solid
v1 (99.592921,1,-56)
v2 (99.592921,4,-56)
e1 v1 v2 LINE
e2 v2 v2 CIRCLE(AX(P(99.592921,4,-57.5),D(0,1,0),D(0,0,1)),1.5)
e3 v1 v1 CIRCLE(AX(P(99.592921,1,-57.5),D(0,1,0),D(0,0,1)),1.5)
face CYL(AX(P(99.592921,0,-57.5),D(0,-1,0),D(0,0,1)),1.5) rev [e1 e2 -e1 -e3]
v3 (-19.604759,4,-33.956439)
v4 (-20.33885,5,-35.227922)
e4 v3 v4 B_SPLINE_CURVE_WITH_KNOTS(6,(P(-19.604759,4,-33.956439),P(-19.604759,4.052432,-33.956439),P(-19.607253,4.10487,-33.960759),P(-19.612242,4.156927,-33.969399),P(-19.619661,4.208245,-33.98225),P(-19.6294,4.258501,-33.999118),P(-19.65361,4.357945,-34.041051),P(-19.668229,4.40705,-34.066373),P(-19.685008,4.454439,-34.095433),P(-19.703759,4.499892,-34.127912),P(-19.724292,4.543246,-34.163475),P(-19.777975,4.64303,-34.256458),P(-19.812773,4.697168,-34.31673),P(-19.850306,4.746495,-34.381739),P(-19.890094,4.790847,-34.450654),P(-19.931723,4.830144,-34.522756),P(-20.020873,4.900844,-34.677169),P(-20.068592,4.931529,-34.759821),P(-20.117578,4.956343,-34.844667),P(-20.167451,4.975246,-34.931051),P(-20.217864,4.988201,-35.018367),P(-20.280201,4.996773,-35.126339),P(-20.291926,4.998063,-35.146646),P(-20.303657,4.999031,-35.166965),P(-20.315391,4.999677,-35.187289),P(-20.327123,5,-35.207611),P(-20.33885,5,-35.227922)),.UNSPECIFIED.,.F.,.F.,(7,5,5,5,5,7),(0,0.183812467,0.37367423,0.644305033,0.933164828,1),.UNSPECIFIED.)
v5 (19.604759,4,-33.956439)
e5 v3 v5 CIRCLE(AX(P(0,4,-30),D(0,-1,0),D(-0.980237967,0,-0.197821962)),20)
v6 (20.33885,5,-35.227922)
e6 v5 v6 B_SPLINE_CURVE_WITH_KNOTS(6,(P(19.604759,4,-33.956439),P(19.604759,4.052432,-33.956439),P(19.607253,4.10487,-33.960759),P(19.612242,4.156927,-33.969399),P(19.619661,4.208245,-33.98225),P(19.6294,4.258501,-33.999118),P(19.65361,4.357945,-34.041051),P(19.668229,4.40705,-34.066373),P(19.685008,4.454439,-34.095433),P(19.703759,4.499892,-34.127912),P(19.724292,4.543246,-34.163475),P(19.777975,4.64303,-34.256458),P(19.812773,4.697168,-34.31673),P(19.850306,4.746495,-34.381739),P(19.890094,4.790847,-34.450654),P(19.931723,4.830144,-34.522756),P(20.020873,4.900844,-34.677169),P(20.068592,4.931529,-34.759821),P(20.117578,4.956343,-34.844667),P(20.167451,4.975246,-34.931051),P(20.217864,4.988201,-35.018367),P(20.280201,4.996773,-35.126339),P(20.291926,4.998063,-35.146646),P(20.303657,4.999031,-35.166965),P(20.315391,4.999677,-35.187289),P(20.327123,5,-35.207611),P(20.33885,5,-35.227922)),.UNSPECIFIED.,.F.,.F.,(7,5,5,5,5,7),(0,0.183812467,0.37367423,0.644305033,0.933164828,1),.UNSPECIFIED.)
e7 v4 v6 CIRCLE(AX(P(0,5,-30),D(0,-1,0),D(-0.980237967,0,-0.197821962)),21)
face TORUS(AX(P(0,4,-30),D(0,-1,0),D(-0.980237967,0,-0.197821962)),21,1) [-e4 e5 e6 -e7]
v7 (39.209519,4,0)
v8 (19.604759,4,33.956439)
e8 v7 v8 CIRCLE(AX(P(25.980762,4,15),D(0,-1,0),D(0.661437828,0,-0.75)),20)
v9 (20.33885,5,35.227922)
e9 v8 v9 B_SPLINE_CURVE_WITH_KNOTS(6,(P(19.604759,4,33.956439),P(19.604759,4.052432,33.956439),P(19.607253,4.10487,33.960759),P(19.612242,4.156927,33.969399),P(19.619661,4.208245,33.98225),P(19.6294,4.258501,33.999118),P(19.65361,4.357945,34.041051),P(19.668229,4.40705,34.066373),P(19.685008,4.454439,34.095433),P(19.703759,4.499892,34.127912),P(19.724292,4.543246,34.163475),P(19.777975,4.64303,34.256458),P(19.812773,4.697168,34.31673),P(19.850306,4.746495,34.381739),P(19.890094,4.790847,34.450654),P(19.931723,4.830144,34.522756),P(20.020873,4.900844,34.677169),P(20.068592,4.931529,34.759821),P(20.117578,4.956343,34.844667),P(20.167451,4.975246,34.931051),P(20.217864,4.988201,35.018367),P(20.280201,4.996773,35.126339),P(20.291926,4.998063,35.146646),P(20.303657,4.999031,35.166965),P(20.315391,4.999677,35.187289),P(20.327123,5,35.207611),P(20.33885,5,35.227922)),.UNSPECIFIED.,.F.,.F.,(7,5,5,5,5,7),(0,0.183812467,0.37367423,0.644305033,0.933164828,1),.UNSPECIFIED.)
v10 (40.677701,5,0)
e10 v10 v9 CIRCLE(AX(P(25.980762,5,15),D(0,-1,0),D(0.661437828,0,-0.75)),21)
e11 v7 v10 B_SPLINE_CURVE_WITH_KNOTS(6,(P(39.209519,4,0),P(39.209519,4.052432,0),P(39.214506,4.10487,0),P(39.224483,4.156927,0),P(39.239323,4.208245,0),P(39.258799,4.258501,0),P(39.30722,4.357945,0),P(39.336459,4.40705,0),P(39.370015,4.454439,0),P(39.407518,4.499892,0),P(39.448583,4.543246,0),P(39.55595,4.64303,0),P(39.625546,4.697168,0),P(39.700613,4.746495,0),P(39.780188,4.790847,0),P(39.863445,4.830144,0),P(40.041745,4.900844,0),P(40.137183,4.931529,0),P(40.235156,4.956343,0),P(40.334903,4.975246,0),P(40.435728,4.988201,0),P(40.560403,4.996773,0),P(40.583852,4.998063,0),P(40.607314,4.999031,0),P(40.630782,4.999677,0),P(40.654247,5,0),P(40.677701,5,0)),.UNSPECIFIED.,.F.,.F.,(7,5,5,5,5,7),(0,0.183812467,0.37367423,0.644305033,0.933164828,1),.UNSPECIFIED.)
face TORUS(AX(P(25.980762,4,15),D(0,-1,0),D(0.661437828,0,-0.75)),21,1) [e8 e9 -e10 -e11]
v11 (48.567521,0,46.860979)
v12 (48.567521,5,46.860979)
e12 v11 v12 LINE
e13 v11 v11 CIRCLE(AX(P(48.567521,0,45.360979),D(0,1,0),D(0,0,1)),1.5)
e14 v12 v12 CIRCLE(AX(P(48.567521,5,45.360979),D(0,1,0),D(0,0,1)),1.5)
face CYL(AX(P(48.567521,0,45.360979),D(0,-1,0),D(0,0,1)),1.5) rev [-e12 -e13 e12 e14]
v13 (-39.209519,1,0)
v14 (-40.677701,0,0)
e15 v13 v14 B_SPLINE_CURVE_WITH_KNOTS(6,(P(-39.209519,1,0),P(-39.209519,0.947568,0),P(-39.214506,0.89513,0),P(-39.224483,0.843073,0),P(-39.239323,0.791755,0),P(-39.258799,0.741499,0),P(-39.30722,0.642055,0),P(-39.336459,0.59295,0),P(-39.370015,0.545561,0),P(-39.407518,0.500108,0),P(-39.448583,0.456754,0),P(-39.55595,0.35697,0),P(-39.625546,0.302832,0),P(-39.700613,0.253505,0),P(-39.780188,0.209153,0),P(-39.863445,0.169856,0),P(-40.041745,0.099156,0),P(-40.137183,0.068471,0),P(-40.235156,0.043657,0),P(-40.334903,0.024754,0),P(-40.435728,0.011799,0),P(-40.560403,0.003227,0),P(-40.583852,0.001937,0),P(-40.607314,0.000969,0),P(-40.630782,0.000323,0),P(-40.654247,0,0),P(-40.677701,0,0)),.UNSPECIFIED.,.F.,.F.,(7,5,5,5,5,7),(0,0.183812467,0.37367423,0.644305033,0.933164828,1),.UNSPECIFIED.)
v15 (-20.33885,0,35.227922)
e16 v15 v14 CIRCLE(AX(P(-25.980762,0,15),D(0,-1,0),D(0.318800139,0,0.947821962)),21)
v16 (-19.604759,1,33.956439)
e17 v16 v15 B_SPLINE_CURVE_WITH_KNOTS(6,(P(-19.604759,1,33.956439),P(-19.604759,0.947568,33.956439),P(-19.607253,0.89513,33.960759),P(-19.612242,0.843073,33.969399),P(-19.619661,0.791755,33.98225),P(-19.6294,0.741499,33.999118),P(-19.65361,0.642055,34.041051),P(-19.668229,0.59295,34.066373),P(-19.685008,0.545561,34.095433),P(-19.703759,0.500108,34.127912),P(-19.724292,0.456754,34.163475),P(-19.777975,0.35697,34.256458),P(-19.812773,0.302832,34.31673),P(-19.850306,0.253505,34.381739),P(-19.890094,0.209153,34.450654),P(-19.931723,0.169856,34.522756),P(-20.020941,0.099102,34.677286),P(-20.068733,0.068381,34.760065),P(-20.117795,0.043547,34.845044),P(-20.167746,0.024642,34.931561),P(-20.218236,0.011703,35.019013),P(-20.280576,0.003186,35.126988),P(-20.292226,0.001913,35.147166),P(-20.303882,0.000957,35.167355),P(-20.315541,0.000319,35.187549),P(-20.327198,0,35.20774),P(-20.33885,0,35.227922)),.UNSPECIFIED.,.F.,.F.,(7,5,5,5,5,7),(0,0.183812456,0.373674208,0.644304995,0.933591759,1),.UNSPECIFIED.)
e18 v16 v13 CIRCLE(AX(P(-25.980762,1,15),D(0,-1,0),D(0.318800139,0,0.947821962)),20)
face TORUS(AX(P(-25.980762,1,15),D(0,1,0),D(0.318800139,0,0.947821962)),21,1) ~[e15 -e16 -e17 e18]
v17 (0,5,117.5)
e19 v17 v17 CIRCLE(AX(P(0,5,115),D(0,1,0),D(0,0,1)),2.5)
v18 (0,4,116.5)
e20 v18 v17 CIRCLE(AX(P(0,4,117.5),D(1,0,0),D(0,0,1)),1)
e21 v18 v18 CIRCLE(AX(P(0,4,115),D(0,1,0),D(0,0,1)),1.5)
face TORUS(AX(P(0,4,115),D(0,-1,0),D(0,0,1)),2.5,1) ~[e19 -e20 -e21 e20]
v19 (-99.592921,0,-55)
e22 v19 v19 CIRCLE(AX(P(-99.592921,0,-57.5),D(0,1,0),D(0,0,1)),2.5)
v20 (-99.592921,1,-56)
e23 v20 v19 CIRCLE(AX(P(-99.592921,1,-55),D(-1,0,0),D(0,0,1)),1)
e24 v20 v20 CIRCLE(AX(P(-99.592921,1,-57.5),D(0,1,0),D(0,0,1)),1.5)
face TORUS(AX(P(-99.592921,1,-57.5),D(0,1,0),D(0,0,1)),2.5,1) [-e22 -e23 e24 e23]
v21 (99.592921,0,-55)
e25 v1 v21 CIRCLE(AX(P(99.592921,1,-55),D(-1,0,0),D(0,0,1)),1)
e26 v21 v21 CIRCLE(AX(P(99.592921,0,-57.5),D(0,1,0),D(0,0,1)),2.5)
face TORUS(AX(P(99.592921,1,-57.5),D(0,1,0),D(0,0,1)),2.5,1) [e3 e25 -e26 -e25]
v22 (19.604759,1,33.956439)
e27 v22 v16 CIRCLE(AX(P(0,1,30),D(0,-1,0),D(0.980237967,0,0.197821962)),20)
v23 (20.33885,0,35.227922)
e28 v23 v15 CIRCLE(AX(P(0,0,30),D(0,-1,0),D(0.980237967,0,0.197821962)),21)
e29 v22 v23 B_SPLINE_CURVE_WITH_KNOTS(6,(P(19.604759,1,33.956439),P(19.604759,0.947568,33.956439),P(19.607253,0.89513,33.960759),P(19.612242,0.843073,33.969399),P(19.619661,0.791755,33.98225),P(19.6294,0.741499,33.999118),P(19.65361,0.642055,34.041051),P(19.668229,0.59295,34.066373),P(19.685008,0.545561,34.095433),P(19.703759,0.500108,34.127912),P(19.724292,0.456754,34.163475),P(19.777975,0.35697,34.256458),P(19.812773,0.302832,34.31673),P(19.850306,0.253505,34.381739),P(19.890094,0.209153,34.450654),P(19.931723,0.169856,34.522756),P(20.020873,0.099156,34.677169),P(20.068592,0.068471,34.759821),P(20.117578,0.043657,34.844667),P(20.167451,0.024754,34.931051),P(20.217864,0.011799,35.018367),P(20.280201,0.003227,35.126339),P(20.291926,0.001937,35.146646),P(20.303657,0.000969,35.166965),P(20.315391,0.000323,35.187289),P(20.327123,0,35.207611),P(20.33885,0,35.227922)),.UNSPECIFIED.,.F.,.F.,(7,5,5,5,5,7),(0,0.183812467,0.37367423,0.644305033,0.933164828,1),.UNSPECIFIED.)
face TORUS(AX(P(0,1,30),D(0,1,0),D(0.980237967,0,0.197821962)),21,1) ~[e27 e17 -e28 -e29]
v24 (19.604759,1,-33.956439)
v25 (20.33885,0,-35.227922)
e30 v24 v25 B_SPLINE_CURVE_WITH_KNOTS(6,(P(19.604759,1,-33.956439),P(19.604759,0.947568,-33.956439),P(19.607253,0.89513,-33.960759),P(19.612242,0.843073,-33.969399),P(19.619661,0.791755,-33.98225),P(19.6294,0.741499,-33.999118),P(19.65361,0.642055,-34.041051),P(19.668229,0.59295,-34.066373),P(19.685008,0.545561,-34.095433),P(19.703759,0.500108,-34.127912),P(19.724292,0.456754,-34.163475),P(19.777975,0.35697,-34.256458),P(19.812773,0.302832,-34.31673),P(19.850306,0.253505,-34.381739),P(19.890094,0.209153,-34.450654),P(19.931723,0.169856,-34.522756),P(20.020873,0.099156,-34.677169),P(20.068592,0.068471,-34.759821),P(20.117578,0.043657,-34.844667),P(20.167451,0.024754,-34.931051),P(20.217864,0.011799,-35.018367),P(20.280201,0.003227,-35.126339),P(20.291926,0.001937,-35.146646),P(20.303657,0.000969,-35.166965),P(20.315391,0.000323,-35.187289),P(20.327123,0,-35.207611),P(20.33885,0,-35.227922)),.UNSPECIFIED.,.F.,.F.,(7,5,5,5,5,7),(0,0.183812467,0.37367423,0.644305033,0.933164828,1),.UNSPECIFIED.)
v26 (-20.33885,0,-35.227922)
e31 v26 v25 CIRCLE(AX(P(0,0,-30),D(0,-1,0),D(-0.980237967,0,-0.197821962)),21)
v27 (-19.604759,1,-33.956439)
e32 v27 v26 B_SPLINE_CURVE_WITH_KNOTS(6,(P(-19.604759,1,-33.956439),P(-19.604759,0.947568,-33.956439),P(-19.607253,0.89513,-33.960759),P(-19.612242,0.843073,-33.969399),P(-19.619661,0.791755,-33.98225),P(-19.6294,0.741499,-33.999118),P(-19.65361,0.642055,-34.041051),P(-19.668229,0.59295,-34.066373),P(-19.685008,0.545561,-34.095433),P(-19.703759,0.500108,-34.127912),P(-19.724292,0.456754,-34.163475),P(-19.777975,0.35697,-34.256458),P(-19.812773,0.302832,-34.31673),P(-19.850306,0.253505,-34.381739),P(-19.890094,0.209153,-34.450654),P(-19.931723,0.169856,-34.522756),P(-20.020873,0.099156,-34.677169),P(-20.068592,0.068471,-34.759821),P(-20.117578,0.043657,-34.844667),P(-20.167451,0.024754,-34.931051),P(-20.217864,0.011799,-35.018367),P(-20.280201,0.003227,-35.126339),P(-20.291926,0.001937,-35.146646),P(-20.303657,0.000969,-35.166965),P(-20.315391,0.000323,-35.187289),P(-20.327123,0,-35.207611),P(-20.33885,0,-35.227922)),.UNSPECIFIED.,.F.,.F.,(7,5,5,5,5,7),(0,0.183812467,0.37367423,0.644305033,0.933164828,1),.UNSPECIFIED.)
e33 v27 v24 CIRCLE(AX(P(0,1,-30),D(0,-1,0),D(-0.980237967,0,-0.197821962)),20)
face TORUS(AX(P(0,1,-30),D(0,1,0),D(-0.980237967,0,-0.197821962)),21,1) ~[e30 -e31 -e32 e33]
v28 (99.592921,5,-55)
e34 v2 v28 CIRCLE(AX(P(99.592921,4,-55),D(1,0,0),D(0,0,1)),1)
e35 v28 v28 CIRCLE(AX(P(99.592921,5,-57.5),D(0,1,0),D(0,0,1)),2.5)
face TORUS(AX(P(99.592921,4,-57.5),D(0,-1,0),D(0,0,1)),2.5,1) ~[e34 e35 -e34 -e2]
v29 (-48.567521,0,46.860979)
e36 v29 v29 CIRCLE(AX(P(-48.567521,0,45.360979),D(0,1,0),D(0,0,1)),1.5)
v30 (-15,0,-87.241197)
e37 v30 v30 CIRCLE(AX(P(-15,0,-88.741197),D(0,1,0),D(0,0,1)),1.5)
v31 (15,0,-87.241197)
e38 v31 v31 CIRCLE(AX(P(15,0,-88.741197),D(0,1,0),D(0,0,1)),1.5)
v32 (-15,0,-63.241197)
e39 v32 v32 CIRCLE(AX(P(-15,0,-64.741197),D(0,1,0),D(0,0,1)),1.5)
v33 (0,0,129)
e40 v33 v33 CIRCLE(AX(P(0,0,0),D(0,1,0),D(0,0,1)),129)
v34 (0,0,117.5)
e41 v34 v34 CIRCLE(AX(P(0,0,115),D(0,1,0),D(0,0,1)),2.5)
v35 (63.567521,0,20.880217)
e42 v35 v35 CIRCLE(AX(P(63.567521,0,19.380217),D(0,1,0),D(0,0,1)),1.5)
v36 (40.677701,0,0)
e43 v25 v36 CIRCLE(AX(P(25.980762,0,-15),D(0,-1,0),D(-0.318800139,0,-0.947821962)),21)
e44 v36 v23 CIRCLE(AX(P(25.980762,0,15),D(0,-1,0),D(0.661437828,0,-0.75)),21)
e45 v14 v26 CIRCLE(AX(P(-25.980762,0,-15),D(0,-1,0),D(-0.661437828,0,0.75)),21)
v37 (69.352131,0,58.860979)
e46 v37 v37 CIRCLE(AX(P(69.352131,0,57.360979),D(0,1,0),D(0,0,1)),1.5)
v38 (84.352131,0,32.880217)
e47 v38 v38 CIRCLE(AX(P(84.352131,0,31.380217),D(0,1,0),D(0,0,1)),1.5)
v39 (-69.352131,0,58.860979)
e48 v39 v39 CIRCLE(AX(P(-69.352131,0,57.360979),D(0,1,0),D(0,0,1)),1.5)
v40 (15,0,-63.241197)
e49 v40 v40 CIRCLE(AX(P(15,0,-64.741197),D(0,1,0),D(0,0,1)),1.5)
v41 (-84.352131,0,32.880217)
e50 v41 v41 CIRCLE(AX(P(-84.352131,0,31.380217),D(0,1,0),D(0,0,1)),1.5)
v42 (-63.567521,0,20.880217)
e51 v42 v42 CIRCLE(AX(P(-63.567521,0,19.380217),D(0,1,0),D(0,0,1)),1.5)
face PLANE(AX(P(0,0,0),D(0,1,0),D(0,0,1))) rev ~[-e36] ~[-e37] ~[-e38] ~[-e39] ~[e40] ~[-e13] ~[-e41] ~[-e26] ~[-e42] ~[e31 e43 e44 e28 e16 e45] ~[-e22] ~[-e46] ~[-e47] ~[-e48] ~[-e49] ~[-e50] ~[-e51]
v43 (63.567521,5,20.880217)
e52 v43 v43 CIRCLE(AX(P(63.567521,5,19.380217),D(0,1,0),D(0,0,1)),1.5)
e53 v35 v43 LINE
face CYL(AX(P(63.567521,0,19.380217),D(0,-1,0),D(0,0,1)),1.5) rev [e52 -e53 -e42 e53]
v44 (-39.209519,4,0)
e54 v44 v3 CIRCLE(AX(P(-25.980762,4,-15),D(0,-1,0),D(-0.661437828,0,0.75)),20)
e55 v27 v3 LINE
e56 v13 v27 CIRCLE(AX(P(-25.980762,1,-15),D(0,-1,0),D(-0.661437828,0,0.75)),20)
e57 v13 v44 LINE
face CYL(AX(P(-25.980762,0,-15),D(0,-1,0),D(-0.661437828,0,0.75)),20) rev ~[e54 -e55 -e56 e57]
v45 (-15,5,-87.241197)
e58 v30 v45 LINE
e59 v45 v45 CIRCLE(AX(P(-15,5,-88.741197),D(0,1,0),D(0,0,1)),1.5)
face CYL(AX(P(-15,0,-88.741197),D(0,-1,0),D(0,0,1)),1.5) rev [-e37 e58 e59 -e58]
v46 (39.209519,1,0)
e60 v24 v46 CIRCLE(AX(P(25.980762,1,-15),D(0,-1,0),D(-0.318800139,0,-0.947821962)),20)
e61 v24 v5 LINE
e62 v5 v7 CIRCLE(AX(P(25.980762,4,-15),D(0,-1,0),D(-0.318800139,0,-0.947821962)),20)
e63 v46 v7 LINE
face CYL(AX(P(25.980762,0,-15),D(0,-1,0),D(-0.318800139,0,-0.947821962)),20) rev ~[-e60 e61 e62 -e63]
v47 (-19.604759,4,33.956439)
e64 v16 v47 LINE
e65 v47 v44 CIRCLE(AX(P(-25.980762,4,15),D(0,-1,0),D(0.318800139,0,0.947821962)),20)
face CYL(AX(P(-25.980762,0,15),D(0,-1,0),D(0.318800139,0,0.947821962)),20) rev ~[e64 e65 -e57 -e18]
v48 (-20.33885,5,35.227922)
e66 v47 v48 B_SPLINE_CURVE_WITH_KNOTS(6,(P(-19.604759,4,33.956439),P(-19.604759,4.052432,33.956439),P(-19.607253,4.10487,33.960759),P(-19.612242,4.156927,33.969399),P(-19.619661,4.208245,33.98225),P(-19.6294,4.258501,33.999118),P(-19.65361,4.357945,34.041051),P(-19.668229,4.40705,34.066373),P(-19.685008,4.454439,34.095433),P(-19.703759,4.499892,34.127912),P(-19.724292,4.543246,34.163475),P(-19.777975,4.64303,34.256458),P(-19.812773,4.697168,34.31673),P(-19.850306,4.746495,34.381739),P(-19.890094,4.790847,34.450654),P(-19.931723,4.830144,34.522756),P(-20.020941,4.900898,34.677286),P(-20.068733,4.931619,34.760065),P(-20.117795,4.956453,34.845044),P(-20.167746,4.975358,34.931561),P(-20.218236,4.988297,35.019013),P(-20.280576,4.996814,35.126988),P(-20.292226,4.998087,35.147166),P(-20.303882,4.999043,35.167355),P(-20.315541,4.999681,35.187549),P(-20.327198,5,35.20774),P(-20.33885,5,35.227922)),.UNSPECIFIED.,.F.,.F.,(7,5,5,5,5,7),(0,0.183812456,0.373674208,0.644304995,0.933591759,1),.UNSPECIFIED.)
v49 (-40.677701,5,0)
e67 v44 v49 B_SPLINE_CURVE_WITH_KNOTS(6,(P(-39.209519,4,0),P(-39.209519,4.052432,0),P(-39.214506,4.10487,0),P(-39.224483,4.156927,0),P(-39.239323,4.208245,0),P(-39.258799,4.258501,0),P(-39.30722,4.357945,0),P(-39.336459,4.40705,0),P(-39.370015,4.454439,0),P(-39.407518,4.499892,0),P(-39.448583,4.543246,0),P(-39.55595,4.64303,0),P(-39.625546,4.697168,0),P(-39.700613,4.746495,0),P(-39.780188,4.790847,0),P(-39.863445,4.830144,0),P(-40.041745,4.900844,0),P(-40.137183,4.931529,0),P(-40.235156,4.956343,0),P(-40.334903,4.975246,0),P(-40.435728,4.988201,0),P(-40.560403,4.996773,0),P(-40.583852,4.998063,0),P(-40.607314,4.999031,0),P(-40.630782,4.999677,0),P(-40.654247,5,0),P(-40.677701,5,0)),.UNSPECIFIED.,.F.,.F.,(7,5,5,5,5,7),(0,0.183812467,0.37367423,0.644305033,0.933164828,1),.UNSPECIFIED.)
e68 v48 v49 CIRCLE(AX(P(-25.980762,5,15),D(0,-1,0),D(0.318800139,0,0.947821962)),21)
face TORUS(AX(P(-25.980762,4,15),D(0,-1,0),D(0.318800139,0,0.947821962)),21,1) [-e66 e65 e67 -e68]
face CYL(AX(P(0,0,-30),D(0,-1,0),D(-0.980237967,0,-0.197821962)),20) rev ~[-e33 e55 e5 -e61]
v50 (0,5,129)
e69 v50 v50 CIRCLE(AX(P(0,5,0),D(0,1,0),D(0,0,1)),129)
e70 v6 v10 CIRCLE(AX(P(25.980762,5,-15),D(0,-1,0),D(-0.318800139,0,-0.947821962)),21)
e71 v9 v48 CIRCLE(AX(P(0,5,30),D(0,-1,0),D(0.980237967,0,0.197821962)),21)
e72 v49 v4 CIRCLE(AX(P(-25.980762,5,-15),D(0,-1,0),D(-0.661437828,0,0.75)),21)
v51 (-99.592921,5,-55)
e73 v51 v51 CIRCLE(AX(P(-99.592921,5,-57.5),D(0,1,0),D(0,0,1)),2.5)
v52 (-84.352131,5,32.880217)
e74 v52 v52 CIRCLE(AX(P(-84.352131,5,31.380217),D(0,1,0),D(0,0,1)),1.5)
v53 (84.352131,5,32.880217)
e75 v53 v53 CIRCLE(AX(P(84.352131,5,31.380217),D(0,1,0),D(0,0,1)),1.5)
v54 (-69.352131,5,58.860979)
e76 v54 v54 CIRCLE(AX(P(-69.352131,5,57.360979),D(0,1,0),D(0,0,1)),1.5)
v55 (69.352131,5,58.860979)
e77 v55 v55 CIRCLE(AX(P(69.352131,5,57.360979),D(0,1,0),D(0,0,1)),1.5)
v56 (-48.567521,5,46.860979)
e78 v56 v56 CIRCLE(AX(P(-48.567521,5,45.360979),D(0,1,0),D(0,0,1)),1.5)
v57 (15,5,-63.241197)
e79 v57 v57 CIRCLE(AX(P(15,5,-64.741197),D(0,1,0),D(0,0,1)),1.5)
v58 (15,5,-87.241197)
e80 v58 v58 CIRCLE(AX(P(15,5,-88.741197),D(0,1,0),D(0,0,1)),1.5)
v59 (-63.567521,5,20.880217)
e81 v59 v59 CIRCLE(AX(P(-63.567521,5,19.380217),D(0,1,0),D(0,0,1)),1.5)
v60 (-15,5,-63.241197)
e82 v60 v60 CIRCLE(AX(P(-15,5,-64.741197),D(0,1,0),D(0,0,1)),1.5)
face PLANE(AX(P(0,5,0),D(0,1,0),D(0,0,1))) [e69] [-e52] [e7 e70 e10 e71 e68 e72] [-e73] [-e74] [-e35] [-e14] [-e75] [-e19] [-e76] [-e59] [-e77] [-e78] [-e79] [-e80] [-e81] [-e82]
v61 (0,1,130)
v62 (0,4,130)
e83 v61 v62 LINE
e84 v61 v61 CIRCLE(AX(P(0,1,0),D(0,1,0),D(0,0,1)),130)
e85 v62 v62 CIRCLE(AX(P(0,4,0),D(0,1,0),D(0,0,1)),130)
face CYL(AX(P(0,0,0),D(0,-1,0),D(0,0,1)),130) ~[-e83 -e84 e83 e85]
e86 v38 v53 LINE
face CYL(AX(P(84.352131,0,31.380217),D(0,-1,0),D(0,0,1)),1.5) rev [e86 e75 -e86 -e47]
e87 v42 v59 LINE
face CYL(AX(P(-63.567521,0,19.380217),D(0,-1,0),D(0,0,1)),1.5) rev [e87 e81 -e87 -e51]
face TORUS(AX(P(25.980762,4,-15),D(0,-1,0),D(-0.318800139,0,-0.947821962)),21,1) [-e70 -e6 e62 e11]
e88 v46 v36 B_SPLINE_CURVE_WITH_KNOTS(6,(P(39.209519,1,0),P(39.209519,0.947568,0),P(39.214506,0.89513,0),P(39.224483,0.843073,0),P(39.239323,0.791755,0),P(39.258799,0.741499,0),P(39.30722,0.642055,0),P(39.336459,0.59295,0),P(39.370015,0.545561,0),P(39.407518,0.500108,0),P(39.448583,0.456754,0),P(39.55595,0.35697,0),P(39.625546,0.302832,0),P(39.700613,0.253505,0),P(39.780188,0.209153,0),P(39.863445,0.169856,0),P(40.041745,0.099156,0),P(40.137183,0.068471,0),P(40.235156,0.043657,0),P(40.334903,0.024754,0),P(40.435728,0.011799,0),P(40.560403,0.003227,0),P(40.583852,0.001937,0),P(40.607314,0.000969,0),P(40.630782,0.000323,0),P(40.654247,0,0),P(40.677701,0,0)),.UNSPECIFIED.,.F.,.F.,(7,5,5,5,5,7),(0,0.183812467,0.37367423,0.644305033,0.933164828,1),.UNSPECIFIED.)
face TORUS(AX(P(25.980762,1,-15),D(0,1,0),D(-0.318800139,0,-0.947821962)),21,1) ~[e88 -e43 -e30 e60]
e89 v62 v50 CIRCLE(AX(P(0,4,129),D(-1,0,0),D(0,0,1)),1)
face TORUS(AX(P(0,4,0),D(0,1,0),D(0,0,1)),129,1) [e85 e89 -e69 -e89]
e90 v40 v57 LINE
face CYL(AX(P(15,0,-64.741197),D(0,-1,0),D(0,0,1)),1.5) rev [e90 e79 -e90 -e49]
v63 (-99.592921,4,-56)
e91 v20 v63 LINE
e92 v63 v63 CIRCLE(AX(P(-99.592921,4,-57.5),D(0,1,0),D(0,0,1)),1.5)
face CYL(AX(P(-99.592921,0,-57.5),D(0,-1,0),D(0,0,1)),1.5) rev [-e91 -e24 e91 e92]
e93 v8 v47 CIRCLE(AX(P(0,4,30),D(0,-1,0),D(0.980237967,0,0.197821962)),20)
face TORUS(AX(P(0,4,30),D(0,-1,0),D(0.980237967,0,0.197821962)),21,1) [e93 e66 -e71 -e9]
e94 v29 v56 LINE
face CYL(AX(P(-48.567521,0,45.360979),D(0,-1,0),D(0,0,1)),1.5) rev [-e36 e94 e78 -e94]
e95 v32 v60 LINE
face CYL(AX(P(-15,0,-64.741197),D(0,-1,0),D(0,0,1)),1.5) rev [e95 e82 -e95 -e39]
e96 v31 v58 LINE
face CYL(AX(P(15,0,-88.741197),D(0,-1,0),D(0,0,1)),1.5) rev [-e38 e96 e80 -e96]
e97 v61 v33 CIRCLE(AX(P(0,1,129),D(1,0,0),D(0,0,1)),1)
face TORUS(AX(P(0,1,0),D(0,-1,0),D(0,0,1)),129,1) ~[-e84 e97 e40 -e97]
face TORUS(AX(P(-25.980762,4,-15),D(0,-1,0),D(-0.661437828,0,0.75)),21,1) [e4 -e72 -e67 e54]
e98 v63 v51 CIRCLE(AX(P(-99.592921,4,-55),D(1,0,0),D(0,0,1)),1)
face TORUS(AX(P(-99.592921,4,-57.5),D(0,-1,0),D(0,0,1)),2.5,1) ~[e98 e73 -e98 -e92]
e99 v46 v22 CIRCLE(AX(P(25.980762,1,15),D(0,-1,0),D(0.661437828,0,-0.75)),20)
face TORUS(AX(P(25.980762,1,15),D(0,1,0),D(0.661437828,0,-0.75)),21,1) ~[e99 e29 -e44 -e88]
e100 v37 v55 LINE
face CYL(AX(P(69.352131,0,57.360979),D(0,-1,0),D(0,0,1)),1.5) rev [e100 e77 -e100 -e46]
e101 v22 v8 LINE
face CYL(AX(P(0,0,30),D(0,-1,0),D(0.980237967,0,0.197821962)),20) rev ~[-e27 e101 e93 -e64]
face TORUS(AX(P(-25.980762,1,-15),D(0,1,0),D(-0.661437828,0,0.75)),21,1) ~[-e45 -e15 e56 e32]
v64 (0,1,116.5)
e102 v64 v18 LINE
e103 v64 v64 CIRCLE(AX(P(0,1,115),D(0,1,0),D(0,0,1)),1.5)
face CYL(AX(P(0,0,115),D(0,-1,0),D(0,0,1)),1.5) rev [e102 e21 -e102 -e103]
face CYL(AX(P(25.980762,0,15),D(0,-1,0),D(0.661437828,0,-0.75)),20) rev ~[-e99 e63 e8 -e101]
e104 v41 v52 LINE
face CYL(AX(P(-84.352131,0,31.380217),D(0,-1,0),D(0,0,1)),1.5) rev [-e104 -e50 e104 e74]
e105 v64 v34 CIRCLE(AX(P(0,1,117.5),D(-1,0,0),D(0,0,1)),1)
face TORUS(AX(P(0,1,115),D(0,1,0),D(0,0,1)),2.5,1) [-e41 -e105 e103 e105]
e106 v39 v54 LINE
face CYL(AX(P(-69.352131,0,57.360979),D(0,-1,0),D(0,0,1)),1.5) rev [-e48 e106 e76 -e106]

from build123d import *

# Parameters (mm, degrees)
SKETCH1_R           = 130
SKETCH1_R_2         = 1.5
BOSS_EXTRUDE1_DEPTH = 5
FILLET1_R           = 1


with BuildPart() as part:
    # Sketch1 → Boss-Extrude1 (new body)
    with BuildSketch(Plane(origin=(0, 0, 0), x_dir=(1, 0, 0), z_dir=(0, 1, 0))):
        with Locations(Location((0, 0, 0), (0, 0, 270))):
            Circle(SKETCH1_R)
        with Locations(Location((-69.352130745, -57.36097943, 0), (0, 0, 270))):
            Circle(SKETCH1_R_2, mode=Mode.SUBTRACT)
        with Locations(Location((-84.352130745, -31.380217316, 0), (0, 0, 270))):
            Circle(SKETCH1_R_2, mode=Mode.SUBTRACT)
        with Locations(Location((-48.567521054, -45.36097943, 0), (0, 0, 270))):
            Circle(SKETCH1_R_2, mode=Mode.SUBTRACT)
        with Locations(Location((-63.567521054, -19.380217316, 0), (0, 0, 270))):
            Circle(SKETCH1_R_2, mode=Mode.SUBTRACT)
        with Locations(Location((0, -115, 0), (0, 0, 270))):
            Circle(SKETCH1_R_2, mode=Mode.SUBTRACT)
        with Locations(Location((48.567521054, -45.36097943, 0), (0, 0, 270))):
            Circle(SKETCH1_R_2, mode=Mode.SUBTRACT)
        with BuildLine():
            ThreePointArc((19.604759334, -33.956439237), (0, -50), (-19.604759334, -33.956439237))
            ThreePointArc((-19.604759334, -33.956439237), (-43.301270189, -25), (-39.209518669, 0))
            ThreePointArc((-39.209518669, 0), (-43.301270189, 25), (-19.604759334, 33.956439237))
            ThreePointArc((-19.604759334, 33.956439237), (0, 50), (19.604759334, 33.956439237))
            ThreePointArc((19.604759334, 33.956439237), (43.301270189, 25), (39.209518669, 0))
            ThreePointArc((39.209518669, 0), (43.301270189, -25), (19.604759334, -33.956439237))
        make_face(mode=Mode.SUBTRACT)
        with Locations(Location((63.567521054, -19.380217316, 0), (0, 0, 270))):
            Circle(SKETCH1_R_2, mode=Mode.SUBTRACT)
        with Locations(Location((69.352130745, -57.36097943, 0), (0, 0, 270))):
            Circle(SKETCH1_R_2, mode=Mode.SUBTRACT)
        with Locations(Location((84.352130745, -31.380217316, 0), (0, 0, 270))):
            Circle(SKETCH1_R_2, mode=Mode.SUBTRACT)
        with Locations(Location((-99.592921435, 57.5, 0), (0, 0, 270))):
            Circle(SKETCH1_R_2, mode=Mode.SUBTRACT)
        with Locations(Location((-15, 64.741196746, 0), (0, 0, 270))):
            Circle(SKETCH1_R_2, mode=Mode.SUBTRACT)
        with Locations(Location((-15, 88.741196746, 0), (0, 0, 270))):
            Circle(SKETCH1_R_2, mode=Mode.SUBTRACT)
        with Locations(Location((15, 64.741196746, 0), (0, 0, 270))):
            Circle(SKETCH1_R_2, mode=Mode.SUBTRACT)
        with Locations(Location((99.592921435, 57.5, 0), (0, 0, 270))):
            Circle(SKETCH1_R_2, mode=Mode.SUBTRACT)
        with Locations(Location((15, 88.741196746, 0), (0, 0, 270))):
            Circle(SKETCH1_R_2, mode=Mode.SUBTRACT)
    extrude(amount=BOSS_EXTRUDE1_DEPTH)

    # Fillet1
    fillet1_edges = [part.edges().sort_by_distance(p)[0] for p in [
        (-43.301270189, 5, 25),
        (-43.301270189, 5, -25),
        (0, 0, -130),
        (0, 5, -50),
        (-99.592921435, 0, -59),
        (99.592921435, 0, -59),
        (0, 0, 113.5),
        (43.301270189, 5, -25),
        (0, 0, 50),
        (43.301270189, 0, 25),
        (43.301270189, 0, -25),
        (0, 0, -50),
        (-43.301270189, 0, -25),
        (-43.301270189, 0, 25),
        (43.301270189, 5, 25),
        (0, 5, 50),
        (0, 5, 113.5),
        (99.592921435, 5, -59),
        (-99.592921435, 5, -59),
        (0, 5, -130),
    ]]
    fillet(fillet1_edges, radius=FILLET1_R)


solid = part.part
